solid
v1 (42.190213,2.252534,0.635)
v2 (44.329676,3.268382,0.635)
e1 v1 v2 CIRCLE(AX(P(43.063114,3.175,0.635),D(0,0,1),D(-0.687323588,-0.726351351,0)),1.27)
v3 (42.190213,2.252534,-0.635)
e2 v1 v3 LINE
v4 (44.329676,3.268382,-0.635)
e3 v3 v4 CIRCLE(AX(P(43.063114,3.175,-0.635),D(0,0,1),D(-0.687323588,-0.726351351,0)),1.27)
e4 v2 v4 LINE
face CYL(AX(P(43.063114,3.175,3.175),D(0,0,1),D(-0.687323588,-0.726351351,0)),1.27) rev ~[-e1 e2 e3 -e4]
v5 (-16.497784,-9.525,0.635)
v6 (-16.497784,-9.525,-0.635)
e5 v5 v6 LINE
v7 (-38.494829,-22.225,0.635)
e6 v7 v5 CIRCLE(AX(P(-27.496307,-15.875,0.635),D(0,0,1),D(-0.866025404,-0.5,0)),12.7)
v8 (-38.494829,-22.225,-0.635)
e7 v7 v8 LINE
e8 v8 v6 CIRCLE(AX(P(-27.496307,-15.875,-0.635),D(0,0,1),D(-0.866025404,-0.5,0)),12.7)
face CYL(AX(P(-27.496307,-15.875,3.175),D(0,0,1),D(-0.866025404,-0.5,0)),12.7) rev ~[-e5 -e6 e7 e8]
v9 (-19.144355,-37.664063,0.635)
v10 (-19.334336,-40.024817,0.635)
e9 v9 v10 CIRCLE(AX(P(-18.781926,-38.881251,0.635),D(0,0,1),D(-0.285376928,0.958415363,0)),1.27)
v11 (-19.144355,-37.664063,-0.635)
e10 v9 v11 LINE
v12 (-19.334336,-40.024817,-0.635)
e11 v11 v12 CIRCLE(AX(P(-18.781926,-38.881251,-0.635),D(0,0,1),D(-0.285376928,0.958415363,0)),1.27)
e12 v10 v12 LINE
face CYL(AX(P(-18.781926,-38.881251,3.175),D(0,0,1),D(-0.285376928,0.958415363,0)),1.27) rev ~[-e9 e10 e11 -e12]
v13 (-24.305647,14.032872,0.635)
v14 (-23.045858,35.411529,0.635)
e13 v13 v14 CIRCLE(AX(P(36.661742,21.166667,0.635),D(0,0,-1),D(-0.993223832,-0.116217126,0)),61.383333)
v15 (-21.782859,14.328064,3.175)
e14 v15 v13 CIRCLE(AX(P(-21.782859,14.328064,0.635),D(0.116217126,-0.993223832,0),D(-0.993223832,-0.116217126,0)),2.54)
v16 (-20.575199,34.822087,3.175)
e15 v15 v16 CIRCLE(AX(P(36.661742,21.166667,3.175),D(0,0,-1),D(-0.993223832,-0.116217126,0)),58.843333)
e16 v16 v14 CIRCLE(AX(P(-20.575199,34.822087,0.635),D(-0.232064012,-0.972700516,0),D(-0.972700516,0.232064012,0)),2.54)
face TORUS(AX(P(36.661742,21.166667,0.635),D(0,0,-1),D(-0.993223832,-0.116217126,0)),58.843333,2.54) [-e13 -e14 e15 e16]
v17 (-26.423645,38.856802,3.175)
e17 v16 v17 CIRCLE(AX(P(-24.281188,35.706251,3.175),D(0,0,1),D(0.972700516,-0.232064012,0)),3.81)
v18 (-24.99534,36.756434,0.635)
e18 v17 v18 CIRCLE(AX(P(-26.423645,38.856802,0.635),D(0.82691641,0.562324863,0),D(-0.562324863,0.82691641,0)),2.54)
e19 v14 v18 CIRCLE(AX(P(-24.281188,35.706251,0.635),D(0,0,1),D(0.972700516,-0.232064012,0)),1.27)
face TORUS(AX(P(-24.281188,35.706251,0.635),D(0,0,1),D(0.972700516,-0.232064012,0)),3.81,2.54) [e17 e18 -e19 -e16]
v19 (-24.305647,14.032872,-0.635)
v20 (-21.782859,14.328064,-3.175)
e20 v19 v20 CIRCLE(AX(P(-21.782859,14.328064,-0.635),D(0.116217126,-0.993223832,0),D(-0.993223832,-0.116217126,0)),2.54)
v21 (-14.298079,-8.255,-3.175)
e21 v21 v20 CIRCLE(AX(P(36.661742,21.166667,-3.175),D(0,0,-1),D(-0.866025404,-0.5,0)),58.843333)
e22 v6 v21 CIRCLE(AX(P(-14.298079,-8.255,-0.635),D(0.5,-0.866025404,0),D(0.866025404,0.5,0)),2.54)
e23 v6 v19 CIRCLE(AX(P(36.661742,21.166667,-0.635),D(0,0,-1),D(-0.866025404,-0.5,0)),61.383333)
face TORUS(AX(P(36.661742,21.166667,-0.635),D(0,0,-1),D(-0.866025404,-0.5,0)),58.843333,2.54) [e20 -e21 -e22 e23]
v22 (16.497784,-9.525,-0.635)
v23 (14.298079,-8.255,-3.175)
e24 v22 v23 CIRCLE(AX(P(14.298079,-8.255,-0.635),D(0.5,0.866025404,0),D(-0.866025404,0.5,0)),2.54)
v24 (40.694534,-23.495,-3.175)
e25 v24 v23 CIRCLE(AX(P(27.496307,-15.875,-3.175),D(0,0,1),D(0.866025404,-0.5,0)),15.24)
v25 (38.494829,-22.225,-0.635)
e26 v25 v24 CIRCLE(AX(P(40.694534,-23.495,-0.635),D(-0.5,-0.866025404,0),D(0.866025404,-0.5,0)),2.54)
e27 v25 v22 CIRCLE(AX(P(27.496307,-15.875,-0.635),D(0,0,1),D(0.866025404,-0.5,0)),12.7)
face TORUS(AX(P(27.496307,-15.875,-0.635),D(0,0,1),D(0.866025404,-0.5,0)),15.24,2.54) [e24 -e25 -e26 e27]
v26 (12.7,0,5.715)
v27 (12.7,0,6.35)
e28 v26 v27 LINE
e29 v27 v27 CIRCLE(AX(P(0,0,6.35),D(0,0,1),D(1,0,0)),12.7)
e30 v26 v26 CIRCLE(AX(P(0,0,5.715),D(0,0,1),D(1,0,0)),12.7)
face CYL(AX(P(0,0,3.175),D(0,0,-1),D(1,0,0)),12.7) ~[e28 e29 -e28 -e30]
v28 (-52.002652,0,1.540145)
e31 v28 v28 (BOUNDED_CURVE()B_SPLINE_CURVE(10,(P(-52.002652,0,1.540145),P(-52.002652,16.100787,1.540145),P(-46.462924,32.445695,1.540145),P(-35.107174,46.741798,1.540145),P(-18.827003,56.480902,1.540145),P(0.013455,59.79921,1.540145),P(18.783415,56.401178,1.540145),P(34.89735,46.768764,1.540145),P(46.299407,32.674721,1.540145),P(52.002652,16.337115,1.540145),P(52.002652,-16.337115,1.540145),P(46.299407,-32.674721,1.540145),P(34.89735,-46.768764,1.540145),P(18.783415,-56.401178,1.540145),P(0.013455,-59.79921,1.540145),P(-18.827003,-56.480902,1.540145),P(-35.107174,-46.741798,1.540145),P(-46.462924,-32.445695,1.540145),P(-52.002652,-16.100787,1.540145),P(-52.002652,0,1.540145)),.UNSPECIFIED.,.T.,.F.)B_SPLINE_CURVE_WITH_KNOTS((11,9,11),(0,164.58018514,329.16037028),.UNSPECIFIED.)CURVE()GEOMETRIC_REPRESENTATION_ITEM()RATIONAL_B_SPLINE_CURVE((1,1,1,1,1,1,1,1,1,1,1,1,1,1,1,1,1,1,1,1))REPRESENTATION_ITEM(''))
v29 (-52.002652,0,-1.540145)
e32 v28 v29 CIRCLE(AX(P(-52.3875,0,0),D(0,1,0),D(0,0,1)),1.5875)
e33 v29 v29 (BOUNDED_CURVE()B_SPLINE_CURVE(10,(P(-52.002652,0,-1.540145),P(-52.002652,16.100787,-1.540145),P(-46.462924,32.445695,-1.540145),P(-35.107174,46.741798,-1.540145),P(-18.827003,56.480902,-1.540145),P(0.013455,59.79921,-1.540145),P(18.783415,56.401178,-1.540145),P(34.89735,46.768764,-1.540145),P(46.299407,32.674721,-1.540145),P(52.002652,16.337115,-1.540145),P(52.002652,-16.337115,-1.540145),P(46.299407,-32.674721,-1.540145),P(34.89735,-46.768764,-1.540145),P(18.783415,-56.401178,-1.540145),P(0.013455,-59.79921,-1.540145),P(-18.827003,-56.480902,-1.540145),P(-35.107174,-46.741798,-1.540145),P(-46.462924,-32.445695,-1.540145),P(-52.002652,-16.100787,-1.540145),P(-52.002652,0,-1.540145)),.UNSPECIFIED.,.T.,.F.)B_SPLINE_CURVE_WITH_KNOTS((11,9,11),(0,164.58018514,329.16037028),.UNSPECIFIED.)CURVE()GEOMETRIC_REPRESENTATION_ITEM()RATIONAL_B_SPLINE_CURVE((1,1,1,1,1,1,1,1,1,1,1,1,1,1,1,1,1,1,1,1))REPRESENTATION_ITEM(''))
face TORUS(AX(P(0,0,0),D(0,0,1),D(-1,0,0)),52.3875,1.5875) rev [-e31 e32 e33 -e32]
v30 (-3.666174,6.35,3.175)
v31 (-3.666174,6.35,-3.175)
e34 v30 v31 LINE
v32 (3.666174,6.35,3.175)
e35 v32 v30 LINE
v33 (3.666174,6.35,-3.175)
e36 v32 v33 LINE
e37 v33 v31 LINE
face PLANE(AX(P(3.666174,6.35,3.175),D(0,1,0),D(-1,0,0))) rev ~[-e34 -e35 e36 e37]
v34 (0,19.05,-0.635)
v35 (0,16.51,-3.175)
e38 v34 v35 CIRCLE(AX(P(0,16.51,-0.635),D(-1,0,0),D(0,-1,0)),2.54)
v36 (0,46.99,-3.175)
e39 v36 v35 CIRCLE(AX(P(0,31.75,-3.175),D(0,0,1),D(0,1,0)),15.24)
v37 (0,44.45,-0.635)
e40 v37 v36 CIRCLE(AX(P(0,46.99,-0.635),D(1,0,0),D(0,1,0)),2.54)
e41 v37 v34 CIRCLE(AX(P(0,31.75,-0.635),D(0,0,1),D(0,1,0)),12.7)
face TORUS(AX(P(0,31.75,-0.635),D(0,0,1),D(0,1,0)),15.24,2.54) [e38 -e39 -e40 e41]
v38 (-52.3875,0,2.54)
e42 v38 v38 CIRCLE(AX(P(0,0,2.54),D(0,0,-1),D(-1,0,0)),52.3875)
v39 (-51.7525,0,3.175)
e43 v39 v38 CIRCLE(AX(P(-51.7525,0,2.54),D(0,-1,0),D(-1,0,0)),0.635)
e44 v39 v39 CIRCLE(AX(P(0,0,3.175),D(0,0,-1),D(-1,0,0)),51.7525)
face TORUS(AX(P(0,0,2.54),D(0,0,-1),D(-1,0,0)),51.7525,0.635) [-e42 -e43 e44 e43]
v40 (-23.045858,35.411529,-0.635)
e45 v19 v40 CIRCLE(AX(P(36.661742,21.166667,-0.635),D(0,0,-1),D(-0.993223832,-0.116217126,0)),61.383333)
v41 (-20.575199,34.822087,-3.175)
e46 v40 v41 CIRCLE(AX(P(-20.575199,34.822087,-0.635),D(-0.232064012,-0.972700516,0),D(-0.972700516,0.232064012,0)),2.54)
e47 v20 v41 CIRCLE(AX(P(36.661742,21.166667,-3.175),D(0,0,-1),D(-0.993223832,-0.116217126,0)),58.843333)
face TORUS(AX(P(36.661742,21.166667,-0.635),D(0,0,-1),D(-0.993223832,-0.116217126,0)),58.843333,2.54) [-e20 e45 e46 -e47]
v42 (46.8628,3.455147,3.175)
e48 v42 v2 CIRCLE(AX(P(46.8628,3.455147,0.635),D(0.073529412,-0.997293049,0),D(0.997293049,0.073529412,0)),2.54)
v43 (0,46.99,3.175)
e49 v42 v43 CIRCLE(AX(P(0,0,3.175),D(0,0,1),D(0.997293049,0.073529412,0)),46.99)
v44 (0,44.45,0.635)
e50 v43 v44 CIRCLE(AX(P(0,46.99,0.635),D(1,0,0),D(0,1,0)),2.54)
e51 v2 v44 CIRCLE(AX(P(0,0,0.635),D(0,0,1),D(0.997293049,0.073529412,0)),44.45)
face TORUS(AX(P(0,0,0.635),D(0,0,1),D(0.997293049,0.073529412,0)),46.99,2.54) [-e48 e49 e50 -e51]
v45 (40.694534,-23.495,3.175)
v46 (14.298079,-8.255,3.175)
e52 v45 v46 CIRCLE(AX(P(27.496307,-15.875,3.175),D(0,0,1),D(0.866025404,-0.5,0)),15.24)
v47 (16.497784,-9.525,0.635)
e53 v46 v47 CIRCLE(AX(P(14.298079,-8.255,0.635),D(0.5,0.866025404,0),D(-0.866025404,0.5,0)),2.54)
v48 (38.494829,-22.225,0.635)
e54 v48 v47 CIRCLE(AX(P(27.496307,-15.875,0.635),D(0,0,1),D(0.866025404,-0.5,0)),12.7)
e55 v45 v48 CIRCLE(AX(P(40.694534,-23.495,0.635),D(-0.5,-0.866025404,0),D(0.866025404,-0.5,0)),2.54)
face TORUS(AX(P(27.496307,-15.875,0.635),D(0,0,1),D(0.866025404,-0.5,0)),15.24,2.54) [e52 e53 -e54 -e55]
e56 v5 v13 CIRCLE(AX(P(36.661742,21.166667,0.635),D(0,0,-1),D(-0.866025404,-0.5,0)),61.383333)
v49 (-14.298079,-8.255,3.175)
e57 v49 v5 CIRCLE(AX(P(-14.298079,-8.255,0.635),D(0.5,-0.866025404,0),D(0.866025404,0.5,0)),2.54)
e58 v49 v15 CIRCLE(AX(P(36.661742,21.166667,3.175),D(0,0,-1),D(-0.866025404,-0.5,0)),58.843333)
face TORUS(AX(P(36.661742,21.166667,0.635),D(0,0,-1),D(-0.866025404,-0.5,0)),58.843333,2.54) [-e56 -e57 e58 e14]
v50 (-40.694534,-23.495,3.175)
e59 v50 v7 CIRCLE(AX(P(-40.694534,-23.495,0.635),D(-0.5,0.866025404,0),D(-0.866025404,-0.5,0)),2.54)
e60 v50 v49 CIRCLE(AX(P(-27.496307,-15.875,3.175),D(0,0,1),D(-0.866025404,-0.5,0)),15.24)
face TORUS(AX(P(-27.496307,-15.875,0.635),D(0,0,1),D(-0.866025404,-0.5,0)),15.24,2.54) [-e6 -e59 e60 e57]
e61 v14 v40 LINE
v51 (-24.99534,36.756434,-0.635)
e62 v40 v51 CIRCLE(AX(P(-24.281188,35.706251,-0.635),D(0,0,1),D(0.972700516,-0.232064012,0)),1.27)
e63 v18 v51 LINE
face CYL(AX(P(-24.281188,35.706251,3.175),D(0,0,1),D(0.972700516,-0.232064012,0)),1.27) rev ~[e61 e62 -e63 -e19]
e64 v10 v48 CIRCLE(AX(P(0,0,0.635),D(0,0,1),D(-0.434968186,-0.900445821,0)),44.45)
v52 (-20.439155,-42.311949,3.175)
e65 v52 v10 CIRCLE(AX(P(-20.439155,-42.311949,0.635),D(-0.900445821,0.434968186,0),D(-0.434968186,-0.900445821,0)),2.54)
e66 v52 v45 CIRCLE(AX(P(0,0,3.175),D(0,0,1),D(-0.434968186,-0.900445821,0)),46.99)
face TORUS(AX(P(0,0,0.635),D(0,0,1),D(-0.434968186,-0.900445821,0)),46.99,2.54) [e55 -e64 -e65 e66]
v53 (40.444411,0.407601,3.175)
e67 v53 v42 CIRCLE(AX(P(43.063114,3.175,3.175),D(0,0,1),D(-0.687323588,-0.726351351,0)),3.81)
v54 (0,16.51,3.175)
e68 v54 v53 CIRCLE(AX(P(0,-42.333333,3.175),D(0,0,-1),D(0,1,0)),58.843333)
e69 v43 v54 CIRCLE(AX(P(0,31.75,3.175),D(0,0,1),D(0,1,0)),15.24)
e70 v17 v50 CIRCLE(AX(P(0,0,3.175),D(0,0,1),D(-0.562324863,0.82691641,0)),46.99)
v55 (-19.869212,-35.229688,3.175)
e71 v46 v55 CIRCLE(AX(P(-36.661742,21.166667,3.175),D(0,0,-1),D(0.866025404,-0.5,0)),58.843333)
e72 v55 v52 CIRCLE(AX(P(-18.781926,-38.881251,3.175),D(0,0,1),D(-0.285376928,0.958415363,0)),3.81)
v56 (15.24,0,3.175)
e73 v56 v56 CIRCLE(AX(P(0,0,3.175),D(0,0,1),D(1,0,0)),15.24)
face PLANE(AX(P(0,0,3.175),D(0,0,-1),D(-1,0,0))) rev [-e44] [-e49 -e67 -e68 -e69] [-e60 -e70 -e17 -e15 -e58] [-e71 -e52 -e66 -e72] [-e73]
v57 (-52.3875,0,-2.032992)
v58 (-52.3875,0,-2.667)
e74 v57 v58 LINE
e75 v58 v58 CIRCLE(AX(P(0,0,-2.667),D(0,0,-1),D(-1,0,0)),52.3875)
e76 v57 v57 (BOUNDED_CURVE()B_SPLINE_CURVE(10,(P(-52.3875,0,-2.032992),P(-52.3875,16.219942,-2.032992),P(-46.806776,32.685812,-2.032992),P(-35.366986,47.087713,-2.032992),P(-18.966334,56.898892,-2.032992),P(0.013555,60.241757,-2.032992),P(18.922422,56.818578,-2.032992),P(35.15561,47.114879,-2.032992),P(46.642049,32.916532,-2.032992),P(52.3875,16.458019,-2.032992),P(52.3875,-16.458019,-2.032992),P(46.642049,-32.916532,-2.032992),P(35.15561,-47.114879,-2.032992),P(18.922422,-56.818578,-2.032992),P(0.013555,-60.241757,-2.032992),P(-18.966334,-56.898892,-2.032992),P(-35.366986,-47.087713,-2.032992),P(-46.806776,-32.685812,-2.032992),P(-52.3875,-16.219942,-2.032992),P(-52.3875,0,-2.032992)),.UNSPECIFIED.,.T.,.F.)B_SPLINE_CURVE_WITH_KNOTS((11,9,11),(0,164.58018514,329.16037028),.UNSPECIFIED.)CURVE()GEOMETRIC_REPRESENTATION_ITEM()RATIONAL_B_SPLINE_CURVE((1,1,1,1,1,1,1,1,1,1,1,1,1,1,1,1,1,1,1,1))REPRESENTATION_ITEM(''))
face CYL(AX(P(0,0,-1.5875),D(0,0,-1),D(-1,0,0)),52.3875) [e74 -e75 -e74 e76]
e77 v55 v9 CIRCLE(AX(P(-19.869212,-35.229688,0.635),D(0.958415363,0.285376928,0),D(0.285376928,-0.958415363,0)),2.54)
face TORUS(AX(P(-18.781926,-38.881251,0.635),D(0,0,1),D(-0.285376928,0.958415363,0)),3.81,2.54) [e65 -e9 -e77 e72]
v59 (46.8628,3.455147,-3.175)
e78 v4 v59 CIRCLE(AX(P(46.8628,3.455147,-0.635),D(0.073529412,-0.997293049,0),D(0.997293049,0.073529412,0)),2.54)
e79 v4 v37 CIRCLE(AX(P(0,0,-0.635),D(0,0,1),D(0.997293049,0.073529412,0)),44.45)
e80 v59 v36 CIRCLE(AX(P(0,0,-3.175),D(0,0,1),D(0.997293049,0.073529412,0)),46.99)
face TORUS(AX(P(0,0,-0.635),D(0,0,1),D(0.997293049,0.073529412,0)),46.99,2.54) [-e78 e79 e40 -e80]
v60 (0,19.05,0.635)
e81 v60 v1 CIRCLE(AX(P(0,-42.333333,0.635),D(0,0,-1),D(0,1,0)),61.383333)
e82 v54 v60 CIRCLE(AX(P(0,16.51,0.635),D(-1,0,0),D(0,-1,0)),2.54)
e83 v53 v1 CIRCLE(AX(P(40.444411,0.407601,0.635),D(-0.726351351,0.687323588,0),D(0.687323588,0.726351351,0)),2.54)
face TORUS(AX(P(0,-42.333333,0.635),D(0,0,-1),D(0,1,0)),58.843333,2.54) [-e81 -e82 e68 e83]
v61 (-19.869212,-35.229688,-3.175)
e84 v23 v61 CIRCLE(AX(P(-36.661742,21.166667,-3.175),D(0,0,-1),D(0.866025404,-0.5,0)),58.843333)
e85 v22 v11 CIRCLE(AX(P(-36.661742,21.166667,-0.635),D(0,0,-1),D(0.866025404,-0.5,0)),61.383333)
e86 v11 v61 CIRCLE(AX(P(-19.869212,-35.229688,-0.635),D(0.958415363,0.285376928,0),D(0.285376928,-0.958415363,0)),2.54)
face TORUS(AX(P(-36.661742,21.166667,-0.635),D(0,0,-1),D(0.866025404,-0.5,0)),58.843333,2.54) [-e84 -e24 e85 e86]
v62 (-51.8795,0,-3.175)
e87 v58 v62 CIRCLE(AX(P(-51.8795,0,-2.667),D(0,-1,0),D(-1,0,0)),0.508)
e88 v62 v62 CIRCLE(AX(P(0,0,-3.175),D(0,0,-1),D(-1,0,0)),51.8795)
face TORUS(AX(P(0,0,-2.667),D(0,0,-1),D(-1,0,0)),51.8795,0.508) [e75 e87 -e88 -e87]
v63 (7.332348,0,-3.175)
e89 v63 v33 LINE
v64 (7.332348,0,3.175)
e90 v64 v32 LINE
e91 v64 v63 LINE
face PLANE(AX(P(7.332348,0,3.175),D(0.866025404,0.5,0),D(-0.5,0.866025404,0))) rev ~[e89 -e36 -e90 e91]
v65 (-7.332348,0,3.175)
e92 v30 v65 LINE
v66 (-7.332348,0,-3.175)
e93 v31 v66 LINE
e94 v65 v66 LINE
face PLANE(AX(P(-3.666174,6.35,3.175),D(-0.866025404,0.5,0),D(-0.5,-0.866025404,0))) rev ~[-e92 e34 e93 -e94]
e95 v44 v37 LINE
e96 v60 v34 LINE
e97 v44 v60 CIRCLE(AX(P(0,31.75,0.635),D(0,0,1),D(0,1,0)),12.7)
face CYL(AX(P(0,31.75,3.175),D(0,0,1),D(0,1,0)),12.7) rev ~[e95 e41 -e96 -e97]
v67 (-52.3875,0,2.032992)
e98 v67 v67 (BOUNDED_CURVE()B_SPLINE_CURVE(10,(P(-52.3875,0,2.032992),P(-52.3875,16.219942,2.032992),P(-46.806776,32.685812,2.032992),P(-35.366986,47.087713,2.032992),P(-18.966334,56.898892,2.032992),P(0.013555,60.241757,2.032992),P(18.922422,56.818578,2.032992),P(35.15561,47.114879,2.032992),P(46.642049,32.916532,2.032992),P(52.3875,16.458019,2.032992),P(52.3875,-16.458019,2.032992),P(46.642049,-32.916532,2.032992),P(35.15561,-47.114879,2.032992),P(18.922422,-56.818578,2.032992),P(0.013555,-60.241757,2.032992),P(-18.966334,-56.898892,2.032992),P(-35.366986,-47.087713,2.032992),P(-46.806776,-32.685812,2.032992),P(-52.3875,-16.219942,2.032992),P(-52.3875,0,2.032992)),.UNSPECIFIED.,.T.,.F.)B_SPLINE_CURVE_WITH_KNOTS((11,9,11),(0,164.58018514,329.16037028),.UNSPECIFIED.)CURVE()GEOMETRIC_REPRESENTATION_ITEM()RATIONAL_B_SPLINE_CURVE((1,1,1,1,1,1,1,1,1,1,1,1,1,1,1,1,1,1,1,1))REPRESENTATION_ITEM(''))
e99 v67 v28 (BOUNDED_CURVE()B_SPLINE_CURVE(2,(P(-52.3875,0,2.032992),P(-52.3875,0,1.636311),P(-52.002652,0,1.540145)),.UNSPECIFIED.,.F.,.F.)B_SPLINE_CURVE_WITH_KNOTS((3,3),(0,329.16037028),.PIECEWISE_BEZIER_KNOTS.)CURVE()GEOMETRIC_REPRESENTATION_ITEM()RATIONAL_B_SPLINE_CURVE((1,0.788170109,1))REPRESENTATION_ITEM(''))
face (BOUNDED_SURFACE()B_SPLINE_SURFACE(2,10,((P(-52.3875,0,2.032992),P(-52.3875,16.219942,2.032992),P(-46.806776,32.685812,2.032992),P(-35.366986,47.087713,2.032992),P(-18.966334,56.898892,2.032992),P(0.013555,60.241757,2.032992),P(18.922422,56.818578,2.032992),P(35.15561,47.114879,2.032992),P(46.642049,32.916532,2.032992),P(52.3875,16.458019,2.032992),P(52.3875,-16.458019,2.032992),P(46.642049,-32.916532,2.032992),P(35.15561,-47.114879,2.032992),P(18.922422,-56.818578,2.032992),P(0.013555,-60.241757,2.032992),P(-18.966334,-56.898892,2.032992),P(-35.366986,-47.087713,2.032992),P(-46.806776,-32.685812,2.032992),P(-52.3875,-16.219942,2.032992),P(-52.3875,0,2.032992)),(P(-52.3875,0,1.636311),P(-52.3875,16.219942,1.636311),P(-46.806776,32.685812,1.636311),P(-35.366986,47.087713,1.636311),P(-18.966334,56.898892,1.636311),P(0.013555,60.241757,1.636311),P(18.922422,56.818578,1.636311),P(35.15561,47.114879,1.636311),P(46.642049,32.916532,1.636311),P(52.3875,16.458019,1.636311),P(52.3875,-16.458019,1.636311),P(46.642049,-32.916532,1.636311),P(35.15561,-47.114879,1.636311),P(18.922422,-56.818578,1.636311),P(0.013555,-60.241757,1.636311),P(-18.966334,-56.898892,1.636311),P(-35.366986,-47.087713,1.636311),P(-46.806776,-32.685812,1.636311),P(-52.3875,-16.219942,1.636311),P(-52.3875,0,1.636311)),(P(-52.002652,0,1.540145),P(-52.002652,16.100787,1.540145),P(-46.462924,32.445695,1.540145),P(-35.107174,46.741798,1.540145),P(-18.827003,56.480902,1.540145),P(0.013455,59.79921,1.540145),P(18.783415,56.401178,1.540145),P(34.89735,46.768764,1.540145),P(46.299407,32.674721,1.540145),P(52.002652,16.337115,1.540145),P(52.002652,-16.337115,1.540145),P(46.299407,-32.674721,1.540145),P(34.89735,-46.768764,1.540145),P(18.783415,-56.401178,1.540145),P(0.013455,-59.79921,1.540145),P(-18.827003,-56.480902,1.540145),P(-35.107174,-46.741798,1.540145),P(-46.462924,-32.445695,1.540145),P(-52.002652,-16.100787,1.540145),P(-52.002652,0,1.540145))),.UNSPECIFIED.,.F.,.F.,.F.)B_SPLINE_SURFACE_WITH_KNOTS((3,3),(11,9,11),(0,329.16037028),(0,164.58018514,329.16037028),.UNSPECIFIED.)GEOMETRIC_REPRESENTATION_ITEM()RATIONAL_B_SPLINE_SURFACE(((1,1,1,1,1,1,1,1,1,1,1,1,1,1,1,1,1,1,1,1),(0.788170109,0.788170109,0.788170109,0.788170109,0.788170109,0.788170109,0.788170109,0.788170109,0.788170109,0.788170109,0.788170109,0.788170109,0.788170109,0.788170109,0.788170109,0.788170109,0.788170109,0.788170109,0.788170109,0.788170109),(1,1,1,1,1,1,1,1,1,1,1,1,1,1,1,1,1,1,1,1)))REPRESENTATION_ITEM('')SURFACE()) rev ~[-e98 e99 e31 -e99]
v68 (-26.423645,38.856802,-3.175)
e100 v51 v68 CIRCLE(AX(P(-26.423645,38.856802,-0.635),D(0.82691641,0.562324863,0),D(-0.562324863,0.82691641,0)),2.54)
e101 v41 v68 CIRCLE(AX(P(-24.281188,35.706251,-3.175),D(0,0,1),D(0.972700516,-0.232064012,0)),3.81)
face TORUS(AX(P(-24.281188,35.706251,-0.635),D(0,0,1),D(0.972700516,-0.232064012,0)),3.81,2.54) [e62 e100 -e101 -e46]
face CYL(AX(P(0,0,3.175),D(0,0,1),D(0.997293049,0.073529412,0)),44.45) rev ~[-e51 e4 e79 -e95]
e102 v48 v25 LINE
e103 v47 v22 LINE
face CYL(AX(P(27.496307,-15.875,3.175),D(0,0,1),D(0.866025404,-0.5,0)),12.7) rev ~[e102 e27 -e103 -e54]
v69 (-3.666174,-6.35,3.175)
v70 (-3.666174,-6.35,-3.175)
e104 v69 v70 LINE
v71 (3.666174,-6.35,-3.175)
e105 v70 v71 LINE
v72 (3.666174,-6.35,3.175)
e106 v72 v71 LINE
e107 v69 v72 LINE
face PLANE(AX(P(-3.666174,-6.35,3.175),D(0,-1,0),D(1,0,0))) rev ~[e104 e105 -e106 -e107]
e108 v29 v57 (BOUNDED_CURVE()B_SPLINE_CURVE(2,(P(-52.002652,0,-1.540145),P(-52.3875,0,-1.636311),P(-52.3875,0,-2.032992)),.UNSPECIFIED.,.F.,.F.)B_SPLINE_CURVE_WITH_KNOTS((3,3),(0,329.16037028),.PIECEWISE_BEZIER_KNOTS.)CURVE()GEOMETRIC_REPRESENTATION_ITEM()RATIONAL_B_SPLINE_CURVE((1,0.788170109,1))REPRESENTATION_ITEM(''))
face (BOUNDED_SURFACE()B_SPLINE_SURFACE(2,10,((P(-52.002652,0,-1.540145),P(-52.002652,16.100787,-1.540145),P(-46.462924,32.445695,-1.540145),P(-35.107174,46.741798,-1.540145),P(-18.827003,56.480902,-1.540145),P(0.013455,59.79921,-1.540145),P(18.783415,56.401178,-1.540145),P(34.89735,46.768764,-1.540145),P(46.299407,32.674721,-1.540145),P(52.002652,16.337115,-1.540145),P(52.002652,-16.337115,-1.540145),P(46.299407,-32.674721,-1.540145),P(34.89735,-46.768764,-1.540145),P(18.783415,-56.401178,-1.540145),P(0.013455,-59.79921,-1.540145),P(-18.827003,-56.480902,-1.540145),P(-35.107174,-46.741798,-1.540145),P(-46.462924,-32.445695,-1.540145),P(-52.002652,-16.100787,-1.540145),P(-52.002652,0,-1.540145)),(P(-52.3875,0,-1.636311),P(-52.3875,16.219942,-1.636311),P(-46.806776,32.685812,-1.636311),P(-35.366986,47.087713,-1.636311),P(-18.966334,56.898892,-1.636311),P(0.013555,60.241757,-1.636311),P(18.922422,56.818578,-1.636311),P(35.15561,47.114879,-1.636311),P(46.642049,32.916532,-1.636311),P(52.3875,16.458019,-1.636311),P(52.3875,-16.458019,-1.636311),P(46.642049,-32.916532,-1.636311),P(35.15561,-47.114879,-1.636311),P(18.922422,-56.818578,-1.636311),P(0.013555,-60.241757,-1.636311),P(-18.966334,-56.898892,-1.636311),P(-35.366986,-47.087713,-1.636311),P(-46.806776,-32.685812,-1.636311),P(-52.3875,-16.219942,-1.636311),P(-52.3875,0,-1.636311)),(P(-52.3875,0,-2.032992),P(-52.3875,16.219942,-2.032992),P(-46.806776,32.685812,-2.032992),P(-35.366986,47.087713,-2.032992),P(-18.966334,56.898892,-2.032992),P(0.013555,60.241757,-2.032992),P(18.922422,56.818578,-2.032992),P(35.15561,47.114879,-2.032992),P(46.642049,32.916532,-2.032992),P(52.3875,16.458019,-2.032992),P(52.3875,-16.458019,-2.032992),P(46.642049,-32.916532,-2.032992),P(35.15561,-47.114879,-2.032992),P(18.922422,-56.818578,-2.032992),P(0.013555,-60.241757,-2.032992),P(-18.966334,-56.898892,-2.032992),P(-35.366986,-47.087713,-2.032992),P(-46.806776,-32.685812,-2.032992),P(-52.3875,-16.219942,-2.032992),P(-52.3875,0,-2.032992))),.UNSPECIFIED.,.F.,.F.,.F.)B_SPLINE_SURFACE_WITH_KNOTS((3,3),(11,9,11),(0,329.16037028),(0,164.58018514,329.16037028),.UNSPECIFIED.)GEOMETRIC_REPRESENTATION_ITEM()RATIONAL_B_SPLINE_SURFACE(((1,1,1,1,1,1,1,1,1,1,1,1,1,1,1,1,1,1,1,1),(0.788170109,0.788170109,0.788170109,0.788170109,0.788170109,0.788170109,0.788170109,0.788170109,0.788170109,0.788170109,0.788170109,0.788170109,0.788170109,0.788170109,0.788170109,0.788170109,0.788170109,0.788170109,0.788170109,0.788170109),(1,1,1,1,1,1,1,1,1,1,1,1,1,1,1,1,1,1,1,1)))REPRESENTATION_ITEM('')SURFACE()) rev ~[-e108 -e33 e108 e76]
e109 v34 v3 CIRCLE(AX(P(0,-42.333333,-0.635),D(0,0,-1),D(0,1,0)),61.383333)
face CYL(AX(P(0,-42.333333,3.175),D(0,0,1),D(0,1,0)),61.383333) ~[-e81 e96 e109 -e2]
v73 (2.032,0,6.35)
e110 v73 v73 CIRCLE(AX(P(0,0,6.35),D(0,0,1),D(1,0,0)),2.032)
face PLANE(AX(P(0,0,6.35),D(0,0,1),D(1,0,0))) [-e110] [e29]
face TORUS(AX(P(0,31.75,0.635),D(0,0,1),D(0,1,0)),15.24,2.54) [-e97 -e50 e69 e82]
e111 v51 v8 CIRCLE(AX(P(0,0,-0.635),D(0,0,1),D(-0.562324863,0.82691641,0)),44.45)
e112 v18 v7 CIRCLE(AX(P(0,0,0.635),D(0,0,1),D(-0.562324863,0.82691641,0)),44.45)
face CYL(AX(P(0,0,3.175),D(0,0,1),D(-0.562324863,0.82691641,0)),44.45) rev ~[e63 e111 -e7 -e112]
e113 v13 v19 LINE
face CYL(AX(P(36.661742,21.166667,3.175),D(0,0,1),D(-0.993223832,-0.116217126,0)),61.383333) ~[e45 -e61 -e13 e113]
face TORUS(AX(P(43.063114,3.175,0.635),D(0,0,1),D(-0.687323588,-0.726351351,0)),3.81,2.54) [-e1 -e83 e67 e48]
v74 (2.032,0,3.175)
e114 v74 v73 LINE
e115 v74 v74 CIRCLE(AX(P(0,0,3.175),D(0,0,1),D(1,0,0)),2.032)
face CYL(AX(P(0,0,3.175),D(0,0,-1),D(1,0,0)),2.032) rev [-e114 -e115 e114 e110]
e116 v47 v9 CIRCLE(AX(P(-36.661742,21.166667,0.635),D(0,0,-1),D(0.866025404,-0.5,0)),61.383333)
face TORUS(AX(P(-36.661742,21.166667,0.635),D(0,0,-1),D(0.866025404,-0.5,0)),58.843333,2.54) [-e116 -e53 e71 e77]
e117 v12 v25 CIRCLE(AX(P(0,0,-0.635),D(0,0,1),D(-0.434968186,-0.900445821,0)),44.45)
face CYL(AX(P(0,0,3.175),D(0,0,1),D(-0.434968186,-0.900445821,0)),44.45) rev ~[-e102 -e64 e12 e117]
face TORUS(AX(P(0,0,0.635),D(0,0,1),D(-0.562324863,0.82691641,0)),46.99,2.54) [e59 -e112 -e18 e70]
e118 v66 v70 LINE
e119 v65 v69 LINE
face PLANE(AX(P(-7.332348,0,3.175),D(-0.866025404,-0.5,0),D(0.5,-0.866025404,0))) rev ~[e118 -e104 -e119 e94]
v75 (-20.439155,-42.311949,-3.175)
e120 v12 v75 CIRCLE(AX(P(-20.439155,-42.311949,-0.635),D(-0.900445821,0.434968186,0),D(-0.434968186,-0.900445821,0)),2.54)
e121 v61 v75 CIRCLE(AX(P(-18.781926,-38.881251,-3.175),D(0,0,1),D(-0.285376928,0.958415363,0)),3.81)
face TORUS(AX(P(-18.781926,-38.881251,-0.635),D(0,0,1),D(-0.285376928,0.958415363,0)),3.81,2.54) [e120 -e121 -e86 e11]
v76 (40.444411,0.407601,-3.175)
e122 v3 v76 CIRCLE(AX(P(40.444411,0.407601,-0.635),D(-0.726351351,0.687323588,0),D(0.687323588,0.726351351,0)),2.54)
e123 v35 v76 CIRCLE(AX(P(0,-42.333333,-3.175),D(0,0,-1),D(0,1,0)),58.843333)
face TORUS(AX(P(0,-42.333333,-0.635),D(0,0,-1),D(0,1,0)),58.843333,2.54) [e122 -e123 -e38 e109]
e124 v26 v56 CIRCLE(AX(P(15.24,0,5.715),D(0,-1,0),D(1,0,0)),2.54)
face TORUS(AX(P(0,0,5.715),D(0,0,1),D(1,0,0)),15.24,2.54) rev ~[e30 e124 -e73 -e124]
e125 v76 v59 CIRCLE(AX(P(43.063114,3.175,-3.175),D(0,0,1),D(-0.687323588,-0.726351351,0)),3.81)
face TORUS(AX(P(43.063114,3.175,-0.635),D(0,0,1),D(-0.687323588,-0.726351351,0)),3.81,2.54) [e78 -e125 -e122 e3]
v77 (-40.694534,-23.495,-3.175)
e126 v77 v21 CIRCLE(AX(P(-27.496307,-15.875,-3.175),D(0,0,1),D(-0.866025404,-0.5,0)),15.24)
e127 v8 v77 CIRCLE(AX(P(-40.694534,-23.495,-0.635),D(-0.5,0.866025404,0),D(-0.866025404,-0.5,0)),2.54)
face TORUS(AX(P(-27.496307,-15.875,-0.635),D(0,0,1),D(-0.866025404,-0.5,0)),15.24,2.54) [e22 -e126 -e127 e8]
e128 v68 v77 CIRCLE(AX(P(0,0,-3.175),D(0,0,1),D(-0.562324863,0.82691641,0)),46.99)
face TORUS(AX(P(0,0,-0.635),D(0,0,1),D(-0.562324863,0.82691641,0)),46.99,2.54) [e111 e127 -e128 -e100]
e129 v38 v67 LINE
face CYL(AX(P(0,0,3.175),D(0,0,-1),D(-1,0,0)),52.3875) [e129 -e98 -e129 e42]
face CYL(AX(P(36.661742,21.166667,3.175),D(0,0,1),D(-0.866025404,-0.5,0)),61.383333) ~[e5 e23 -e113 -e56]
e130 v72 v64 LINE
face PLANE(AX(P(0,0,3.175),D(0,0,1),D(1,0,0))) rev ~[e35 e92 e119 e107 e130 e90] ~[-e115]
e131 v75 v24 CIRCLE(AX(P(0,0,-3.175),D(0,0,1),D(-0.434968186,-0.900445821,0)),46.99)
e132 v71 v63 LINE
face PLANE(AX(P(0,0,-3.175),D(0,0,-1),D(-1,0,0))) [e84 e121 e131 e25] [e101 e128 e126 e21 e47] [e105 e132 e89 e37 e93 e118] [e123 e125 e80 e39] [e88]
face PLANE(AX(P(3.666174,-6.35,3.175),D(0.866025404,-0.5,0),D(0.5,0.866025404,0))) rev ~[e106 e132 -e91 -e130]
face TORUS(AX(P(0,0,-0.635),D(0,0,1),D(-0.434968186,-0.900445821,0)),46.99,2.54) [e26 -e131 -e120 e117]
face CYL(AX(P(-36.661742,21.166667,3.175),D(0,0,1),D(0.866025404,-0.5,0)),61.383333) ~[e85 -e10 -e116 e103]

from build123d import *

# Parameters (mm, degrees)
F2_R      = 0.635
F3_R      = 0.508
F4_R      = 0.508
F5_R      = 0.508
F7_DEPTH  = 6.35
F8_R      = 12.7
F8_R_2    = 2.032
F9_DEPTH  = 3.175
F10_R     = 2.54
F12_DEPTH = 6.351
F13_R     = 2.54


with BuildPart() as f1:
    # F0 (on Front) → F1 (revolve)
    with BuildSketch(Plane.XZ):
        with BuildLine():
            Line((0, -3.175), (0, 0))
            Line((0, 0), (0, 3.175))
            Line((0, 3.175), (-52.3875, 3.175))
            Line((-52.3875, 3.175), (-52.3875, 1.5875))
            ThreePointArc((-52.3875, 1.5875), (-50.8, 0), (-52.3875, -1.5875))
            Line((-52.3875, -1.5875), (-52.3875, -3.175))
            Line((-52.3875, -3.175), (0, -3.175))
        make_face()
    revolve(axis=Axis((0, 0, -1.0012611747), (0, 0, -1)))

    # F2
    f2_edges = [f1.edges().sort_by_distance(p)[0] for p in [
        (52.3875, 0, 3.175),
    ]]
    fillet(f2_edges, radius=F2_R)

    # F3
    f3_edges = [f1.edges().sort_by_distance(p)[0] for p in [
        (52.3875, 0, 1.5875),
    ]]
    fillet(f3_edges, radius=F3_R)

    # F4
    f4_edges = [f1.edges().sort_by_distance(p)[0] for p in [
        (52.3875, 0, -1.5875),
    ]]
    fillet(f4_edges, radius=F4_R)

    # F5
    f5_edges = [f1.edges().sort_by_distance(p)[0] for p in [
        (52.3875, 0, -3.175),
    ]]
    fillet(f5_edges, radius=F5_R)

    # F6 (on face) → F7 (cut, through all)
    with BuildSketch(Plane.XY.offset(3.175)):
        Polygon((-3.6661742094, -6.35), (3.6661742094, -6.35), (7.3323484187, 0), (3.6661742094, 6.35), (-3.6661742094, 6.35), (-7.3323484187, 0), align=None)
    extrude(amount=-F7_DEPTH, mode=Mode.SUBTRACT)

    # F8 (on face) → F9 (join)
    with BuildSketch(Plane.XY.offset(3.175)):
        Circle(F8_R)
        Circle(F8_R_2, mode=Mode.SUBTRACT)
    extrude(amount=F9_DEPTH)

    # F10
    f10_edges = [f1.edges().sort_by_distance(p)[0] for p in [
        (51.7525, 0, 3.175),
        (-12.7, 0, 3.175),
    ]]
    fillet(f10_edges, radius=F10_R)

    # F11 (on face) → F12 (cut, through all)
    with BuildSketch(Plane.XY.offset(3.175)):
        with BuildLine():
            ThreePointArc((38.4948291982, -22.225), (33.8463065702, -4.8764773719), (16.4977839421, -9.525))
            Line((16.4977839421, -9.525), (38.4948291982, -22.225))
        make_face()
        with BuildLine():
            ThreePointArc((-16.4977839421, -9.525), (-21.6047280969, 1.8552176622), (-24.305647436, 14.03287209))
            Line((-24.305647436, 14.03287209), (-38.4948291982, 22.225))
            ThreePointArc((-38.4948291982, 22.225), (-44.45, 0), (-38.4948291982, -22.225))
            ThreePointArc((-38.4948291982, -22.225), (-21.1463065702, -26.8735226281), (-16.4977839421, -9.525))
        make_face()
        with BuildLine():
            Line((-38.4948291982, 22.225), (-24.305647436, 14.03287209))
            ThreePointArc((-24.305647436, 14.03287209), (-24.6152929326, 24.7775653805), (-23.0458579295, 35.4115292704))
            ThreePointArc((-23.0458579295, 35.4115292704), (-23.5600087981, 36.7516218667), (-24.9953401612, 36.7564344058))
            ThreePointArc((-24.9953401612, 36.7564344058), (-32.5659492076, 30.2532882875), (-38.4948291982, 22.225))
        make_face()
        with BuildLine():
            Line((38.4948291982, -22.225), (16.4977839421, -9.525))
            ThreePointArc((16.4977839421, -9.525), (1.3745331028, -27.0117037946), (-19.1443549702, -37.6640630541))
            ThreePointArc((-19.1443549702, -37.6640630541), (-20.0478337678, -38.7793770659), (-19.3343358673, -40.0248167587))
            ThreePointArc((-19.3343358673, -40.0248167587), (13.0762951684, -42.4830908088), (38.4948291982, -22.225))
        make_face()
        with BuildLine():
            ThreePointArc((44.3296760285, 3.2683823529), (30.2532882875, 32.5659492076), (0, 44.45))
            ThreePointArc((0, 44.45), (-12.7, 31.75), (0, 19.05))
            ThreePointArc((0, 19.05), (22.7055551342, 14.6962324826), (42.1902128997, 2.2525337838))
            ThreePointArc((42.1902128997, 2.2525337838), (43.6078425659, 2.0277551992), (44.3296760285, 3.2683823529))
        make_face()
    extrude(amount=-F12_DEPTH, mode=Mode.SUBTRACT)

    # F13
    f13_edges = [f1.edges().sort_by_distance(p)[0] for p in [
        (-43.329583, 9.917142, 3.175),
        (-12.7, 31.75, 3.175),
        (33.846307, -4.876477, 3.175),
        (33.846307, -4.876477, -3.175),
        (-12.7, 31.75, -3.175),
        (-21.146307, -26.873523, -3.175),
    ]]
    fillet(f13_edges, radius=F13_R)


solid = f1.part
